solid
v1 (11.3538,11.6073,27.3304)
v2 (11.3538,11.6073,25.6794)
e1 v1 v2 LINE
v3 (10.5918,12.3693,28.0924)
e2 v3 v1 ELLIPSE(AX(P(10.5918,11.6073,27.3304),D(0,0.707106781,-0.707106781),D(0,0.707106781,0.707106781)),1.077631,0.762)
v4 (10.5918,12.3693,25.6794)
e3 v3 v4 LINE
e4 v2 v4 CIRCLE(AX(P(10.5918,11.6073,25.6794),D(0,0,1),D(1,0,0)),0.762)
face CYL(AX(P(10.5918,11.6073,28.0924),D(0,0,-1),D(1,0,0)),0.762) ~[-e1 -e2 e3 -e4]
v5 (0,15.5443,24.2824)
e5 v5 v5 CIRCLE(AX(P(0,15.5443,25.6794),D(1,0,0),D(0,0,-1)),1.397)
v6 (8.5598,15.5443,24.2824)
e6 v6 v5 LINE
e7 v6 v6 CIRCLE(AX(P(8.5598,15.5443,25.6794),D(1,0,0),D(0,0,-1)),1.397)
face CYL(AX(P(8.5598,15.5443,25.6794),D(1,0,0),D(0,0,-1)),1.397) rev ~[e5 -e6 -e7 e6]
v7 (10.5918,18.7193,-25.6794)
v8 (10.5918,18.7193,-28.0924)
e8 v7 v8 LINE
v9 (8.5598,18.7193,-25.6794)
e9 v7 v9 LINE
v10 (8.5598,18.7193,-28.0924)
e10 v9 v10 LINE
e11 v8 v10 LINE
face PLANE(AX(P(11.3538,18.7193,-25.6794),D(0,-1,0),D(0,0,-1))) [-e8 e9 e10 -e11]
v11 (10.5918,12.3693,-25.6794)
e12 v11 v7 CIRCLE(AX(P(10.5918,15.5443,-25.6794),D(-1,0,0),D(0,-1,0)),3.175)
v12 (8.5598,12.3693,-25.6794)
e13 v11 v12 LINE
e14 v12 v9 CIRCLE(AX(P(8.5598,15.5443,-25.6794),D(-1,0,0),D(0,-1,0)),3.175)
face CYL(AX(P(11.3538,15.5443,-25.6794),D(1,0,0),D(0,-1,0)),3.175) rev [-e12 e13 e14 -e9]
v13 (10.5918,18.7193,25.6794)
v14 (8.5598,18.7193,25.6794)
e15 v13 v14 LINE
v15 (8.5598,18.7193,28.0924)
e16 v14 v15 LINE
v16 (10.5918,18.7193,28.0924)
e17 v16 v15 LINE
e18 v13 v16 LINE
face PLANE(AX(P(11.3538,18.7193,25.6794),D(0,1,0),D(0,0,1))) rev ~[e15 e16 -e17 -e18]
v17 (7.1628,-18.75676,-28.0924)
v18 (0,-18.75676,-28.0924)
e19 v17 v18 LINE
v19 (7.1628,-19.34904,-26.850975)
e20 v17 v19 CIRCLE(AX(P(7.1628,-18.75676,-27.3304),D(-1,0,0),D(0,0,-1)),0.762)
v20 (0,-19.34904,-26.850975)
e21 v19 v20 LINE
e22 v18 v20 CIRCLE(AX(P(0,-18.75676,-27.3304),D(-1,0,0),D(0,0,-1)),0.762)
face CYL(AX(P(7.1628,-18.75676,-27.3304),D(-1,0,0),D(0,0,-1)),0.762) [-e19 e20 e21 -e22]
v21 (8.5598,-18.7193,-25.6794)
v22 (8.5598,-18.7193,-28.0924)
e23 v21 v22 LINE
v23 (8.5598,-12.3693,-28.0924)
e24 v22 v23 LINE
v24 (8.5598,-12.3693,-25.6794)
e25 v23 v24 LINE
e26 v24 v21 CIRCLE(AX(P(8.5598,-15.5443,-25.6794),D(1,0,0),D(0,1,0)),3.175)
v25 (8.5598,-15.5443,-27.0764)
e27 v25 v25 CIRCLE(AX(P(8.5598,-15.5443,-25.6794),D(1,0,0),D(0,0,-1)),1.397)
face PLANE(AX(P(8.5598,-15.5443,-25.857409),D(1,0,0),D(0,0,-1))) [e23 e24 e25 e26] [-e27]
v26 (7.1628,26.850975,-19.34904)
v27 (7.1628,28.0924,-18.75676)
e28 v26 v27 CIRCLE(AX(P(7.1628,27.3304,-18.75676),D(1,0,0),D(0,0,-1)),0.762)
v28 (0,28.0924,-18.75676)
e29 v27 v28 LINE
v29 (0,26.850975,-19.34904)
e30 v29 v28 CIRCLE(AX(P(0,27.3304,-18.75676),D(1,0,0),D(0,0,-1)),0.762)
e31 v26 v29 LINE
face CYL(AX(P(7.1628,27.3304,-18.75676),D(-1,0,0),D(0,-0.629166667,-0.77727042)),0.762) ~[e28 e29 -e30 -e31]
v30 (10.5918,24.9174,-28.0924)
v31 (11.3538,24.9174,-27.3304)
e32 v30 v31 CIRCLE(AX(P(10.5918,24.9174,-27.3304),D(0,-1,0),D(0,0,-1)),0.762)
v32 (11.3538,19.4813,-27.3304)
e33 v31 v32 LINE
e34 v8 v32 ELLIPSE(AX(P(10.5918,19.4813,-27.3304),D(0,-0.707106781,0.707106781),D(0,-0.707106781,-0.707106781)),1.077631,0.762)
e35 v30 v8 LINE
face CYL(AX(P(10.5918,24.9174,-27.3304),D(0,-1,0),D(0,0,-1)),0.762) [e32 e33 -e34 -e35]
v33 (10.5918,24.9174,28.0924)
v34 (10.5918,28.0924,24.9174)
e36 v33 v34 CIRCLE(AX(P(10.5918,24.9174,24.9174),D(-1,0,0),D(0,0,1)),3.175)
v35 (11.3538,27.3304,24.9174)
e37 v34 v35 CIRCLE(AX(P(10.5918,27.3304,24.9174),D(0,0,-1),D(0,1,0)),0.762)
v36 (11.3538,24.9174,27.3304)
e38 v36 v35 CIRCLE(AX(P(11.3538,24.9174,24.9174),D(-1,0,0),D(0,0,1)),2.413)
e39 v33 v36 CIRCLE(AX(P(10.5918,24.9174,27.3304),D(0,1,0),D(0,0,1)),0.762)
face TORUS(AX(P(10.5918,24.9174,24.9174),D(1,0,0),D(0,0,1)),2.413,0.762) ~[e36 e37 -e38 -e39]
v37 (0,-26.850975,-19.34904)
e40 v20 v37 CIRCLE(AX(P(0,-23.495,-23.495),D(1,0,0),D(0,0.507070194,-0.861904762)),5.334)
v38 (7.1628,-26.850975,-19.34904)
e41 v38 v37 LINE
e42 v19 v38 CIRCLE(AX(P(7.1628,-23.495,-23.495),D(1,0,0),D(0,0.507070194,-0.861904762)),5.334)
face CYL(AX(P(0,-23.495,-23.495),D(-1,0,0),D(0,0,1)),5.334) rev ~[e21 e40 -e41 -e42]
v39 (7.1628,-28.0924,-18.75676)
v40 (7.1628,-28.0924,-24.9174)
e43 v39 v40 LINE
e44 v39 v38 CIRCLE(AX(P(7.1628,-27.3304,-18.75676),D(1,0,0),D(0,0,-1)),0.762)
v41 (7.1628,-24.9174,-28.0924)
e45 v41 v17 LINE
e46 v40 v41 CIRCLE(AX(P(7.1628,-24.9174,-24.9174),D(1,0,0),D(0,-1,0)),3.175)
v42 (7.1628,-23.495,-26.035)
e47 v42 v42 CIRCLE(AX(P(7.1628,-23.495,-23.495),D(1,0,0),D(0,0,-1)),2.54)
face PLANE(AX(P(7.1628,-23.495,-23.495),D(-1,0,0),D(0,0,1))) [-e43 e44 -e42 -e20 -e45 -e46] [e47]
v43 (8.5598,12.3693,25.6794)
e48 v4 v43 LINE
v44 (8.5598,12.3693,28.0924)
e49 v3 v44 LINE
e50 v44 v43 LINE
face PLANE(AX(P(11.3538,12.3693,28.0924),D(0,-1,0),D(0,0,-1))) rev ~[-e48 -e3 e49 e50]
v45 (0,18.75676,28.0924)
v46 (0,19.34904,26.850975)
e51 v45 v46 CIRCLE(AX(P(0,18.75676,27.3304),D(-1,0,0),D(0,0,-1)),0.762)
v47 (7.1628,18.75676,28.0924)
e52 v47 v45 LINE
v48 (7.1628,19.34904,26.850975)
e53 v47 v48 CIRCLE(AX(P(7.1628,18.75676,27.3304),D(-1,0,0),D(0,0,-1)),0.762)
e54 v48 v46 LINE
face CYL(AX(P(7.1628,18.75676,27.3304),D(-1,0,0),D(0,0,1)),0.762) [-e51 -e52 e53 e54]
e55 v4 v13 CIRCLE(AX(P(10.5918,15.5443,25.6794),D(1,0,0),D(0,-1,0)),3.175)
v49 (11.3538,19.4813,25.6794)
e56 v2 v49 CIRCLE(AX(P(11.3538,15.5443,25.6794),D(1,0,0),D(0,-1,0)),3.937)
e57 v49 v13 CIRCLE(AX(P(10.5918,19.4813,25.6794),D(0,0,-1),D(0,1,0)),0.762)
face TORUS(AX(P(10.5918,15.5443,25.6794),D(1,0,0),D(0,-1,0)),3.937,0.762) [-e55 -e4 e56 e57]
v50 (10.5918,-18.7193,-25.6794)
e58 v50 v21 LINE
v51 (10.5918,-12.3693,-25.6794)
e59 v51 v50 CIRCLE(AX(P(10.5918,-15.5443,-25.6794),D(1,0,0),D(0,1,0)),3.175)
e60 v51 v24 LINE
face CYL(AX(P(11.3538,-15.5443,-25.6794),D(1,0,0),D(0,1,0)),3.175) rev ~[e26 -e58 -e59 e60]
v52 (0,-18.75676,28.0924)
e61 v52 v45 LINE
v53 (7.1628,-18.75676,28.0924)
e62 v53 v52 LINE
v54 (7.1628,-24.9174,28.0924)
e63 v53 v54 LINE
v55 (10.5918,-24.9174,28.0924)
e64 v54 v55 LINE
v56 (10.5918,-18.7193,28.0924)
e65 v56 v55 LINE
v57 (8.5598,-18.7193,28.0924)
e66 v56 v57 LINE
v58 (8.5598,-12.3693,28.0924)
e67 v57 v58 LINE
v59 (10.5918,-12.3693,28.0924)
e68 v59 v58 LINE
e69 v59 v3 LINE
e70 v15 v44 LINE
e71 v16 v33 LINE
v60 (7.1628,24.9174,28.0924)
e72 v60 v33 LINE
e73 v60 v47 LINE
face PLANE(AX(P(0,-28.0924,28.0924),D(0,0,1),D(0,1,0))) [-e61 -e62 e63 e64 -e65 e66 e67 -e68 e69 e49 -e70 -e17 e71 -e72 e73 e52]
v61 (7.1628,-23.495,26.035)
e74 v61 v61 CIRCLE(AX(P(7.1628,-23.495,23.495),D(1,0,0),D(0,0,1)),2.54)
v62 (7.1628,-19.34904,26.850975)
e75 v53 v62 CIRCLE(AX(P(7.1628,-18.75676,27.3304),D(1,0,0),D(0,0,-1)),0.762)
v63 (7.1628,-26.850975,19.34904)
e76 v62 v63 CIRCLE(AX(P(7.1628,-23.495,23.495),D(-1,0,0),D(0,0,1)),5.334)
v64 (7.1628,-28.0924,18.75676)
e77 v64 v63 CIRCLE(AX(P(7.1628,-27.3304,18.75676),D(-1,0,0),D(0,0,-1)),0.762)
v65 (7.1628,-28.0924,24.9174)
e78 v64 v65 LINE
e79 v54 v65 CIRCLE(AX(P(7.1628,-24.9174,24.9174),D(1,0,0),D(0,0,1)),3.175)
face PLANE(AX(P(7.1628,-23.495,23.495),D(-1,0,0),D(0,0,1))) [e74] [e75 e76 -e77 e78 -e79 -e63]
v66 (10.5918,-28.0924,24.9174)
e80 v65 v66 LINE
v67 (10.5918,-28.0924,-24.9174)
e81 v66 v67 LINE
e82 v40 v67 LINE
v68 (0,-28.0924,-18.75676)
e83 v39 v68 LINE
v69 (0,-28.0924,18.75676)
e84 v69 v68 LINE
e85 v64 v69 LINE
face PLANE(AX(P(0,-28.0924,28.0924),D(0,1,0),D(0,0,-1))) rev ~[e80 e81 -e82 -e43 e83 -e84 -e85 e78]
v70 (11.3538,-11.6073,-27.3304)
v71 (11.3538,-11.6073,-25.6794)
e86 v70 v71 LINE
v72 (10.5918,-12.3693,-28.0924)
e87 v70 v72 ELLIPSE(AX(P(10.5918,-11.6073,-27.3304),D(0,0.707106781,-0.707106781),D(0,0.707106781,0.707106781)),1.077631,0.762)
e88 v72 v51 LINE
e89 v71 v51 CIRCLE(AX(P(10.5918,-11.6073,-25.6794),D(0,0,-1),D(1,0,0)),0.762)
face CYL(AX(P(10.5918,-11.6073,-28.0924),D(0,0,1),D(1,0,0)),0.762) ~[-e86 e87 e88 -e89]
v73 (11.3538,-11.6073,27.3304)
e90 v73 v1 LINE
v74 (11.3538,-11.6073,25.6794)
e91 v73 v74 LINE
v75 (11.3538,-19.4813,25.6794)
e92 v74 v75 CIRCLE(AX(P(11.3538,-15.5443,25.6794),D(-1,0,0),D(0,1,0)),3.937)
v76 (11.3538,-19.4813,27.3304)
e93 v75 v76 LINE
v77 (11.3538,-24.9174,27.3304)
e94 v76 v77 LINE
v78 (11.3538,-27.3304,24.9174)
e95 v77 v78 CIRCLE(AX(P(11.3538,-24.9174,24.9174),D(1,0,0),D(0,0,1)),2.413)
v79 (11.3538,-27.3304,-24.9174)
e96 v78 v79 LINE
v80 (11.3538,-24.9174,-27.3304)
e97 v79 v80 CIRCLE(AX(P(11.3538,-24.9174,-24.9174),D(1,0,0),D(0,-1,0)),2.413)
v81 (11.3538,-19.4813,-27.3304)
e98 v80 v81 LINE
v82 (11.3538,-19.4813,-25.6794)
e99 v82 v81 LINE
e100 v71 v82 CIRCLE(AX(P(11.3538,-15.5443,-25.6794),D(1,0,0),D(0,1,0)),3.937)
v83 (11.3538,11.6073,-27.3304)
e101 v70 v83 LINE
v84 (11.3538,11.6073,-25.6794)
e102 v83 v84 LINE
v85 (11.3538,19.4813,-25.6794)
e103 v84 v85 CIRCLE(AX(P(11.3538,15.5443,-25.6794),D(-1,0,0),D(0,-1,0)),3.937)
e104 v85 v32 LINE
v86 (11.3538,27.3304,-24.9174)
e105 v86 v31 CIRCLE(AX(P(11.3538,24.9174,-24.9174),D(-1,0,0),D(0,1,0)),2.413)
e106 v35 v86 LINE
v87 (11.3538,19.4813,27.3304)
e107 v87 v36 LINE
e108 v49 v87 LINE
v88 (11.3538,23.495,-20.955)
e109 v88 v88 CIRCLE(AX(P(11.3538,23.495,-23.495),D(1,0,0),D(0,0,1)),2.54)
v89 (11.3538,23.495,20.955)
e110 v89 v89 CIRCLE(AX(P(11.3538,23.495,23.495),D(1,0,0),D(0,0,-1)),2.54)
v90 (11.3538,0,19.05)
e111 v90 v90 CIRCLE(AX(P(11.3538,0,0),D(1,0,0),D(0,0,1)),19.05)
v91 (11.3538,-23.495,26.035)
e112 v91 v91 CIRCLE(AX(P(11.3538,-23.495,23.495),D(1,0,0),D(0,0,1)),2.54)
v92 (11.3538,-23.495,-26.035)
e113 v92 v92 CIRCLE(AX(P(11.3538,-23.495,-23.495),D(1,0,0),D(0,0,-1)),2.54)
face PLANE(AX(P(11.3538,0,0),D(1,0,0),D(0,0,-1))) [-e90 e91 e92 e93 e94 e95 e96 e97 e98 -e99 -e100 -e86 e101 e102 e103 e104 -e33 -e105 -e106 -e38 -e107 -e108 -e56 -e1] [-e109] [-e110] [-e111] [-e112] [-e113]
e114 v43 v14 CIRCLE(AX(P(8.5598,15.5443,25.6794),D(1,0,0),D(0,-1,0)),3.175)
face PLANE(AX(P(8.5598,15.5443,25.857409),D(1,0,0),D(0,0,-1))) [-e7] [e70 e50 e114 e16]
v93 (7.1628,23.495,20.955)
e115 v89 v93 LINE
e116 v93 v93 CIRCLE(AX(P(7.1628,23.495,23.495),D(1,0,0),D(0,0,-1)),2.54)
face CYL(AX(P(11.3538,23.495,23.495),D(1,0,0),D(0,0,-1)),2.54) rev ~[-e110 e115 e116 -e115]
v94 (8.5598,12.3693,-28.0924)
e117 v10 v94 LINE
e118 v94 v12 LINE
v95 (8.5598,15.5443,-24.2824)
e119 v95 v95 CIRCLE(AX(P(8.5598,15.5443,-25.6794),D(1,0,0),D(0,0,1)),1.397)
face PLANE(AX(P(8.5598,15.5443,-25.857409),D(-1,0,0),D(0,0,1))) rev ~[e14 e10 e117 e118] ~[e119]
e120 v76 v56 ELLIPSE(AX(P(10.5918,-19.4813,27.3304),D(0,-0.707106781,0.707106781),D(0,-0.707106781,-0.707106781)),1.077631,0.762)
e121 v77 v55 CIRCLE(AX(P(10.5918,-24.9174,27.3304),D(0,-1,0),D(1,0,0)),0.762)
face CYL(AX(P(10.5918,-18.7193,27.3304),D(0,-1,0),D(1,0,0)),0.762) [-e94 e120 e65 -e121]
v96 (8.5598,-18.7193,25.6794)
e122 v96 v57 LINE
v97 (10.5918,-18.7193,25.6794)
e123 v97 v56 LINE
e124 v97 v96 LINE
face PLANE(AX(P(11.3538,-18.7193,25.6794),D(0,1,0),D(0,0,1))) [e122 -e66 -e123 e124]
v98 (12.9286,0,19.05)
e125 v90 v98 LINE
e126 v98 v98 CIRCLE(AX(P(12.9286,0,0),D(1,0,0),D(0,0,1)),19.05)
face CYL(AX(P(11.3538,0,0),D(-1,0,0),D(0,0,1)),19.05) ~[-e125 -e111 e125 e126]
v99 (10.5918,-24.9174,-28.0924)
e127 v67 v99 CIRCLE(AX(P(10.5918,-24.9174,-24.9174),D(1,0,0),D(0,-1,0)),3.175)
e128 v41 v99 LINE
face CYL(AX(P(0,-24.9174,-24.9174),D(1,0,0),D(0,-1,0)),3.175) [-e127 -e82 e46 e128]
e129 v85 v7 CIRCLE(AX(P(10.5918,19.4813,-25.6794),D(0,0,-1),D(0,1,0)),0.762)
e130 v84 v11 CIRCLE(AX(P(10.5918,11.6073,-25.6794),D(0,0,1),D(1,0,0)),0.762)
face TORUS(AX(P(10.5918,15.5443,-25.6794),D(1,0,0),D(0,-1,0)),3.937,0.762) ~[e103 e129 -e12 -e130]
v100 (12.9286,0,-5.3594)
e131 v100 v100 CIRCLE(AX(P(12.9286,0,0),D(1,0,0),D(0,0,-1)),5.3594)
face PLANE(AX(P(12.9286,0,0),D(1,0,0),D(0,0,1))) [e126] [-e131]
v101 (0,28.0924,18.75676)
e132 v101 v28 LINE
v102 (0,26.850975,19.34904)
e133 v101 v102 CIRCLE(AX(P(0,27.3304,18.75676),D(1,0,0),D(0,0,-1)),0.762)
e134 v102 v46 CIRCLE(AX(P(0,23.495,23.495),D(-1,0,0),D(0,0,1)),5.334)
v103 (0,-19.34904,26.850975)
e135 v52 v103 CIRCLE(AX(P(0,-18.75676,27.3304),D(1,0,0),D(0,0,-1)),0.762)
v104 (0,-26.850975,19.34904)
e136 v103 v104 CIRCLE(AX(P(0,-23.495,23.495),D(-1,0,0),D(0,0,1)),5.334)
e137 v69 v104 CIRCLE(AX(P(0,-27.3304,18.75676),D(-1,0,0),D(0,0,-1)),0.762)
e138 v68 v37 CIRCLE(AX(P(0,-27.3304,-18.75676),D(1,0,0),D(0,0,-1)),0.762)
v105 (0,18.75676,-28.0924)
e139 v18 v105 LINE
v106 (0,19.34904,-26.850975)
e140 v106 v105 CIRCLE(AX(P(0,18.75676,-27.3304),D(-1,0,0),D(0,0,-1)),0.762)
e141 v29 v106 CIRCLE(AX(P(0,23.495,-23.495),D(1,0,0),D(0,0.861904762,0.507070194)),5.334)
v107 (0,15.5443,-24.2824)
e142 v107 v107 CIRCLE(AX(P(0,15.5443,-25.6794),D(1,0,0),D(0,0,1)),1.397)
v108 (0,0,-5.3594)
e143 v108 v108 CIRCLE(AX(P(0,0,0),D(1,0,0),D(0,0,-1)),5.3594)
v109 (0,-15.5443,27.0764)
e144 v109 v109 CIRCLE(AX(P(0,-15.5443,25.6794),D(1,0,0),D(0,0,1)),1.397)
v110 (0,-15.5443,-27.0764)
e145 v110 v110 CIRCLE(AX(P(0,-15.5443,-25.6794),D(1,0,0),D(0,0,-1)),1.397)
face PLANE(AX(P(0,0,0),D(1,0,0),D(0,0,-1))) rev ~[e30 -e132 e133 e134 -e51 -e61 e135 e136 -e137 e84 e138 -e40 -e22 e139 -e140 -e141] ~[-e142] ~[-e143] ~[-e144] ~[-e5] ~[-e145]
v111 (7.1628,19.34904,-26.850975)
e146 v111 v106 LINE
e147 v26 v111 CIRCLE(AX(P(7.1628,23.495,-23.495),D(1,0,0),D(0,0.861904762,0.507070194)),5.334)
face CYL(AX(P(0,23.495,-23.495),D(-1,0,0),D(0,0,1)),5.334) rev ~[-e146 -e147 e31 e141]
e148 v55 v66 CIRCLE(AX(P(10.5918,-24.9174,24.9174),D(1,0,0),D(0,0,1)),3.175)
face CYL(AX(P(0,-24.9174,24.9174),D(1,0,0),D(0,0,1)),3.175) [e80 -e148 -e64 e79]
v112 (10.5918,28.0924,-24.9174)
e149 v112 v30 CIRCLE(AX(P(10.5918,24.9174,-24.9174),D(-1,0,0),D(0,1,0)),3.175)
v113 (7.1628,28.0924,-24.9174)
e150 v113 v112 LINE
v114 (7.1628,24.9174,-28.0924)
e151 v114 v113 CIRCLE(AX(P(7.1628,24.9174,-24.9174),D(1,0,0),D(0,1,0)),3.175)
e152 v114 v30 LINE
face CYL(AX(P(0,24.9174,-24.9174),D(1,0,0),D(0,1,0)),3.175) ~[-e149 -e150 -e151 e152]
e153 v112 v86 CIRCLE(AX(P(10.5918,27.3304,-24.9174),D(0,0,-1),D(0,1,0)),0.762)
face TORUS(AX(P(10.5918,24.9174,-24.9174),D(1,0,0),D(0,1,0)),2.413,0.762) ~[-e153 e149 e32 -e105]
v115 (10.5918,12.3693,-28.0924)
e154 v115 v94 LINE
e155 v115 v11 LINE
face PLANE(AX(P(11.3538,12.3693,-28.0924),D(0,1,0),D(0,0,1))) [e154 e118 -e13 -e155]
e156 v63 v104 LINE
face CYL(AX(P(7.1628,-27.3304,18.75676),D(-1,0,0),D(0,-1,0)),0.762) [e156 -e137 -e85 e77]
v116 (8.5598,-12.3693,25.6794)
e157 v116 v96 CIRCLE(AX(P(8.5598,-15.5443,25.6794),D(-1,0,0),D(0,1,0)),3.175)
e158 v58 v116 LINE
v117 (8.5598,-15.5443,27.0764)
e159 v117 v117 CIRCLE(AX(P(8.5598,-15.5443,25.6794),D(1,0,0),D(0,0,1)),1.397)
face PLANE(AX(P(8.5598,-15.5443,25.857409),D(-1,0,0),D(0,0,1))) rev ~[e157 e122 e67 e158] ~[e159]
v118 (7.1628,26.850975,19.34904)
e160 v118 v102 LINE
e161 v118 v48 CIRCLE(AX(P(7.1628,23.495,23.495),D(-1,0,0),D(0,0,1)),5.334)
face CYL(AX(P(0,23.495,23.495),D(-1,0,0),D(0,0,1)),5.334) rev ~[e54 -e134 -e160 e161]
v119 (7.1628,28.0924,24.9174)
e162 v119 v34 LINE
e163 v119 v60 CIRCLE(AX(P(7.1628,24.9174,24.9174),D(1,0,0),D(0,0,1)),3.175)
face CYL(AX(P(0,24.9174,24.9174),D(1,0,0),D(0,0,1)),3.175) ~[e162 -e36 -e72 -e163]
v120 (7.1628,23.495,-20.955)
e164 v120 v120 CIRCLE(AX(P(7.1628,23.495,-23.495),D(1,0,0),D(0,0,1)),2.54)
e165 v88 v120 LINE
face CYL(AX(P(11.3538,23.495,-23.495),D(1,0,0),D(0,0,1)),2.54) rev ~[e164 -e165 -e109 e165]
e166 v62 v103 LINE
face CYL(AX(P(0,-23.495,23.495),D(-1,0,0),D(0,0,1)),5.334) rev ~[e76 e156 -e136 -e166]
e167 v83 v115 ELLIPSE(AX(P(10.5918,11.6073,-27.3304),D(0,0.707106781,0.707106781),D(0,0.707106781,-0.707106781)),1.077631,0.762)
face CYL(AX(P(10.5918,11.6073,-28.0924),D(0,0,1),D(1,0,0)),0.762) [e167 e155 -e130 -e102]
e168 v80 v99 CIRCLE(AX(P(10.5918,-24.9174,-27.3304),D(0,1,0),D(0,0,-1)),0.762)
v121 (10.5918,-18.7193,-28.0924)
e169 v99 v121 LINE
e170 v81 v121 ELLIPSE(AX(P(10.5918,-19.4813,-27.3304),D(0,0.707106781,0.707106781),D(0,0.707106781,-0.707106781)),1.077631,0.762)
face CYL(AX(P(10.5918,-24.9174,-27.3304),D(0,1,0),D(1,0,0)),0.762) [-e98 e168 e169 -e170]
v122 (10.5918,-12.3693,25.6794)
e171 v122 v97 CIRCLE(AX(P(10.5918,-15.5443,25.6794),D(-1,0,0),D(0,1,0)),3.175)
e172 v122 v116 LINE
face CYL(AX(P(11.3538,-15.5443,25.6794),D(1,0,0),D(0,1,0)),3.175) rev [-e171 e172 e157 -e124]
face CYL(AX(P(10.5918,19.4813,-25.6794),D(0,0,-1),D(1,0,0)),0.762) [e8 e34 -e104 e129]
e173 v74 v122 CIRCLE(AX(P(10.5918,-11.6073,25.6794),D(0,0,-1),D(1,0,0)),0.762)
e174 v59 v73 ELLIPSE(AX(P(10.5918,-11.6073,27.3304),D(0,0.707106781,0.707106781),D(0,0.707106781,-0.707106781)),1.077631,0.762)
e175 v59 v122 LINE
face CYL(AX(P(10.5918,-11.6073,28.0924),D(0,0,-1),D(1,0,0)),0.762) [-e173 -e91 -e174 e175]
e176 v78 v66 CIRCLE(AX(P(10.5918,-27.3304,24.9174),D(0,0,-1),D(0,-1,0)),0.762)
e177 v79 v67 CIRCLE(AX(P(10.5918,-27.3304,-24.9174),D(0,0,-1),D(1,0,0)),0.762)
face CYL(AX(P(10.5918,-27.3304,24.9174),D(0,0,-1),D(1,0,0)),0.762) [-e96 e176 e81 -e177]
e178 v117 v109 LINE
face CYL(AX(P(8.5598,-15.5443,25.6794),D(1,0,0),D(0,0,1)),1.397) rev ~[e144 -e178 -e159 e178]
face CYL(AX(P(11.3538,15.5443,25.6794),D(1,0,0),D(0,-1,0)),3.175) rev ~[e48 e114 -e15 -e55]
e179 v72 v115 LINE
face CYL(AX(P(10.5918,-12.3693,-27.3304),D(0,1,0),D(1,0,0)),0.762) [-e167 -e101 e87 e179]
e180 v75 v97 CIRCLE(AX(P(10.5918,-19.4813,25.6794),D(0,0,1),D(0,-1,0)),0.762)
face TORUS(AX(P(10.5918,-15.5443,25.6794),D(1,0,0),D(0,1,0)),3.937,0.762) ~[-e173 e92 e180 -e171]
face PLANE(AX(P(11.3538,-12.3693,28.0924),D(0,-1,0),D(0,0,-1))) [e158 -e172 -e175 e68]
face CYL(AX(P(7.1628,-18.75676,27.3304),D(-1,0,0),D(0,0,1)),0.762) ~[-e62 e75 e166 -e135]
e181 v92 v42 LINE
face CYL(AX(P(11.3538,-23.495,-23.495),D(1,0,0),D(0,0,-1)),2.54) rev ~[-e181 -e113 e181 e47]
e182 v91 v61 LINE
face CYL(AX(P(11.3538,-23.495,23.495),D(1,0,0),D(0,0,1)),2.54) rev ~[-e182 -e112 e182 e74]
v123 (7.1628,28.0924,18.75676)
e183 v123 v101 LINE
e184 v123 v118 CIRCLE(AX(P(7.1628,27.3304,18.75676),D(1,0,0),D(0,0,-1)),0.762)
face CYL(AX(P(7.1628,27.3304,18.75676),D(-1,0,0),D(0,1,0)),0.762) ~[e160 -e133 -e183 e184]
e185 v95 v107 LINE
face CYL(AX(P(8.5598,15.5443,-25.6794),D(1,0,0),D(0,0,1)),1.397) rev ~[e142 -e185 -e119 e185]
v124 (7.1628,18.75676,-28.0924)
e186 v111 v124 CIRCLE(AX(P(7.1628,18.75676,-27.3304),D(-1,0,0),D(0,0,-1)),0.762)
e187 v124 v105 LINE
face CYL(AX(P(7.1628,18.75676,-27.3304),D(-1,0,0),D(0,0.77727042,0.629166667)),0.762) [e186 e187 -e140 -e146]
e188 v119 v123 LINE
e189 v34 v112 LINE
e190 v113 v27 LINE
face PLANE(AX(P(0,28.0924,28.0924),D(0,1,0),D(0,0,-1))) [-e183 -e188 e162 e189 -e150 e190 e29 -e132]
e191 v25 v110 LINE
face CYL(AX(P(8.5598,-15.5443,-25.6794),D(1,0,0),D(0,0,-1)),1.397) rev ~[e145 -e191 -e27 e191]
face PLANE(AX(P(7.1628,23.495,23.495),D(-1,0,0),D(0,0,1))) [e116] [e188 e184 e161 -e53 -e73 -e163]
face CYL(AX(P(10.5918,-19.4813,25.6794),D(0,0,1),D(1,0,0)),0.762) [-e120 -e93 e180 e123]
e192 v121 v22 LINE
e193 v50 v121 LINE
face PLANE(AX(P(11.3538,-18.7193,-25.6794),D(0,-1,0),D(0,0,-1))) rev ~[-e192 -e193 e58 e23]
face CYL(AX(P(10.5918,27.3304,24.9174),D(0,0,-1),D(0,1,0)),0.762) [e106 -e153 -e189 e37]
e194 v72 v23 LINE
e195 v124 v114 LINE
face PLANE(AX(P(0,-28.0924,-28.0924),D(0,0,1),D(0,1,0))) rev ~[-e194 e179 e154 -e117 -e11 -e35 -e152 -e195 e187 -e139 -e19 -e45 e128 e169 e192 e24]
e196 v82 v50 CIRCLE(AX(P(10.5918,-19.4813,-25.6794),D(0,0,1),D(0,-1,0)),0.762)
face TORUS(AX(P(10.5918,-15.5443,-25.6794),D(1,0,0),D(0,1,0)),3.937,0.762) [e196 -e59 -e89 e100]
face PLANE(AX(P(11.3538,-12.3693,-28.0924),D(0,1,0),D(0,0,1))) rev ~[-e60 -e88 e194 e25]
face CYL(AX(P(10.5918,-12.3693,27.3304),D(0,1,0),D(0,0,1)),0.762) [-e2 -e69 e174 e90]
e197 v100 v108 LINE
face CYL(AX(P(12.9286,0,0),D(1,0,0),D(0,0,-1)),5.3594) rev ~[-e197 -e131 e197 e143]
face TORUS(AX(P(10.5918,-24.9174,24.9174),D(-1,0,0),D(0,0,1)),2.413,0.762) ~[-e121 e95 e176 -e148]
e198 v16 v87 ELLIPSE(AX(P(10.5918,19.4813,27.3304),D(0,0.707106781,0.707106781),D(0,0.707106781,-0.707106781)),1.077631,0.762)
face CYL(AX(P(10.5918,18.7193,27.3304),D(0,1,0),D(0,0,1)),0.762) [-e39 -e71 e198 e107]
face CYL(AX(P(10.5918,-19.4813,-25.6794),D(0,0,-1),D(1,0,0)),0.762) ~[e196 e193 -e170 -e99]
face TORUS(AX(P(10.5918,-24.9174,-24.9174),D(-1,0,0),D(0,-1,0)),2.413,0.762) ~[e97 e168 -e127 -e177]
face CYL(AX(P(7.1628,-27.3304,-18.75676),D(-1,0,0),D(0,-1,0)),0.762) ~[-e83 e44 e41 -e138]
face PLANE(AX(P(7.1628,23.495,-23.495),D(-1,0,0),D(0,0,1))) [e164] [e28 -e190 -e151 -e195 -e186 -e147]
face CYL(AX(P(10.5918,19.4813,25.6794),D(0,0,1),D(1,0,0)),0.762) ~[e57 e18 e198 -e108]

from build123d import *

# Parameters (mm, degrees)
SKETCH1_W           = 56.1848
SKETCH1_H           = 56.1848
BOSS_EXTRUDE1_DEPTH = 11.3538
SKETCH2_R           = 2.54
CUT_EXTRUDE1_DEPTH  = 42.31918017
CUT_EXTRUDE2_DEPTH  = 2.794
SKETCH4_R           = 1.397
CUT_EXTRUDE3_DEPTH  = 41.640325436
FILLET1_R           = 3.175
SKETCH5_R           = 19.05
BOSS_EXTRUDE2_DEPTH = 1.5748
SKETCH6_R           = 5.3594
CUT_EXTRUDE4_DEPTH  = 42.779355829
FILLET3_R           = 0.762
SKETCH7_R           = 5.334
CUT_EXTRUDE5_DEPTH  = 7.1628
FILLET4_R           = 0.762


with BuildPart() as part:
    # Sketch1 → Boss-Extrude1 (new body)
    with BuildSketch(Plane(origin=(0, 0, 0), x_dir=(0, 0, -1), z_dir=(1, 0, 0))):
        Rectangle(SKETCH1_W, SKETCH1_H)
    extrude(amount=BOSS_EXTRUDE1_DEPTH)

    # Sketch2 → Cut-Extrude1 (cut, through all)
    with BuildSketch(Plane(origin=(11.3538, 0, 0), x_dir=(0, 0, -1), z_dir=(1, 0, 0))):
        with Locations((-23.495, 23.495)):
            Circle(SKETCH2_R)
        with Locations(Location((23.495, 23.495, 0), (0, 0, 180))):
            Circle(SKETCH2_R)
        with Locations((23.495, -23.495)):
            Circle(SKETCH2_R)
        with Locations(Location((-23.495, -23.495, 0), (0, 0, 180))):
            Circle(SKETCH2_R)
    extrude(amount=-CUT_EXTRUDE1_DEPTH, mode=Mode.SUBTRACT)

    # Sketch3 → Cut-Extrude2 (cut)
    with BuildSketch(Plane(origin=(11.3538, 0, 0), x_dir=(0, 0, -1), z_dir=(1, 0, 0))):
        with BuildLine():
            Line((-25.6794, 18.719299782), (-28.0924, 18.719299782))
            Line((-28.0924, 18.719299782), (-28.0924, 12.369299782))
            Line((-28.0924, 12.369299782), (-25.6794, 12.369299782))
            ThreePointArc((-25.6794, 12.369299782), (-22.5044, 15.544299782), (-25.6794, 18.719299782))
        make_face()
        with BuildLine():
            Line((-28.0924, -18.719299782), (-28.0924, -12.369299782))
            Line((-28.0924, -12.369299782), (-25.6794, -12.369299782))
            ThreePointArc((-25.6794, -12.369299782), (-22.5044, -15.544299782), (-25.6794, -18.719299782))
            Line((-25.6794, -18.719299782), (-28.0924, -18.719299782))
        make_face()
        with BuildLine():
            Line((28.0924, 18.719299782), (28.0924, 12.369299782))
            Line((28.0924, 12.369299782), (25.6794, 12.369299782))
            ThreePointArc((25.6794, 12.369299782), (22.5044, 15.544299782), (25.6794, 18.719299782))
            Line((25.6794, 18.719299782), (28.0924, 18.719299782))
        make_face()
        with BuildLine():
            Line((25.6794, -18.719299782), (28.0924, -18.719299782))
            Line((28.0924, -18.719299782), (28.0924, -12.369299782))
            Line((28.0924, -12.369299782), (25.6794, -12.369299782))
            ThreePointArc((25.6794, -12.369299782), (22.5044, -15.544299782), (25.6794, -18.719299782))
        make_face()
    extrude(amount=-CUT_EXTRUDE2_DEPTH, mode=Mode.SUBTRACT)

    # Sketch4 → Cut-Extrude3 (cut, through all)
    with BuildSketch(Plane(origin=(8.5598, 0, 0), x_dir=(0, 0, -1), z_dir=(1, 0, 0))):
        with Locations((-25.6794, 15.544299782)):
            Circle(SKETCH4_R)
        with Locations(Location((25.6794, 15.544299782, 0), (0, 0, 180))):
            Circle(SKETCH4_R)
        with Locations((25.6794, -15.544299782)):
            Circle(SKETCH4_R)
        with Locations(Location((-25.6794, -15.544299782, 0), (0, 0, 180))):
            Circle(SKETCH4_R)
    extrude(amount=-CUT_EXTRUDE3_DEPTH, mode=Mode.SUBTRACT)

    # Fillet1
    fillet1_edges = [part.edges().sort_by_distance(p)[0] for p in [
        (5.6769, -28.0924, -28.0924),
        (5.6769, -28.0924, 28.0924),
        (5.6769, 28.0924, 28.0924),
        (5.6769, 28.0924, -28.0924),
    ]]
    fillet(fillet1_edges, radius=FILLET1_R)

    # Sketch5 → Boss-Extrude2 (add)
    with BuildSketch(Plane(origin=(11.3538, 0, 0), x_dir=(0, 0, -1), z_dir=(1, 0, 0))):
        with Locations(Location((0, 0, 0), (0, 0, 180))):
            Circle(SKETCH5_R)
    extrude(amount=BOSS_EXTRUDE2_DEPTH)

    # Sketch6 → Cut-Extrude4 (cut, through all)
    with BuildSketch(Plane(origin=(12.9286, 0, 0), x_dir=(0, 0, -1), z_dir=(1, 0, 0))):
        Circle(SKETCH6_R)
    extrude(amount=-CUT_EXTRUDE4_DEPTH, mode=Mode.SUBTRACT)

    # Fillet3
    fillet3_edges = [part.edges().sort_by_distance(p)[0] for p in [
        (11.3538, -28.0924, 0),
        (11.3538, 21.818349891, 28.0924),
        (11.3538, 28.0924, 0),
        (11.3538, -21.818349891, -28.0924),
        (11.3538, 27.16246403, 27.16246403),
        (11.3538, 27.16246403, -27.16246403),
        (11.3538, -27.16246403, -27.16246403),
        (11.3538, -27.16246403, 27.16246403),
        (11.3538, 0, 28.0924),
        (11.3538, 15.544299782, 22.5044),
        (11.3538, 18.719299782, 26.8859),
        (11.3538, 12.369299782, 26.8859),
        (11.3538, -21.818349891, 28.0924),
        (11.3538, 0, -28.0924),
        (11.3538, 21.818349891, -28.0924),
        (11.3538, 15.544299782, -22.5044),
        (11.3538, 12.369299782, -26.8859),
        (11.3538, 18.719299782, -26.8859),
        (11.3538, -15.544299782, 22.5044),
        (11.3538, -12.369299782, 26.8859),
        (11.3538, -18.719299782, 26.8859),
        (11.3538, -15.544299782, -22.5044),
        (11.3538, -18.719299782, -26.8859),
        (11.3538, -12.369299782, -26.8859),
    ]]
    fillet(fillet3_edges, radius=FILLET3_R)

    # Sketch7 → Cut-Extrude5 (cut)
    with BuildSketch(Plane.ZY):
        with Locations((-23.495, 23.495)):
            Circle(SKETCH7_R)
        with Locations((23.495, 23.495)):
            Circle(SKETCH7_R)
        with Locations((23.495, -23.495)):
            Circle(SKETCH7_R)
        with Locations((-23.495, -23.495)):
            Circle(SKETCH7_R)
    extrude(amount=-CUT_EXTRUDE5_DEPTH, mode=Mode.SUBTRACT)

    # Fillet4
    fillet4_edges = [part.edges().sort_by_distance(p)[0] for p in [
        (3.5814, 20.790287586, -28.0924),
        (3.5814, 28.0924, -20.790287586),
        (3.5814, 28.0924, 20.790287586),
        (3.5814, 20.790287586, 28.0924),
        (3.5814, -20.790287586, 28.0924),
        (3.5814, -28.0924, 20.790287586),
        (3.5814, -20.790287586, -28.0924),
        (3.5814, -28.0924, -20.790287586),
    ]]
    fillet(fillet4_edges, radius=FILLET4_R)


solid = part.part
